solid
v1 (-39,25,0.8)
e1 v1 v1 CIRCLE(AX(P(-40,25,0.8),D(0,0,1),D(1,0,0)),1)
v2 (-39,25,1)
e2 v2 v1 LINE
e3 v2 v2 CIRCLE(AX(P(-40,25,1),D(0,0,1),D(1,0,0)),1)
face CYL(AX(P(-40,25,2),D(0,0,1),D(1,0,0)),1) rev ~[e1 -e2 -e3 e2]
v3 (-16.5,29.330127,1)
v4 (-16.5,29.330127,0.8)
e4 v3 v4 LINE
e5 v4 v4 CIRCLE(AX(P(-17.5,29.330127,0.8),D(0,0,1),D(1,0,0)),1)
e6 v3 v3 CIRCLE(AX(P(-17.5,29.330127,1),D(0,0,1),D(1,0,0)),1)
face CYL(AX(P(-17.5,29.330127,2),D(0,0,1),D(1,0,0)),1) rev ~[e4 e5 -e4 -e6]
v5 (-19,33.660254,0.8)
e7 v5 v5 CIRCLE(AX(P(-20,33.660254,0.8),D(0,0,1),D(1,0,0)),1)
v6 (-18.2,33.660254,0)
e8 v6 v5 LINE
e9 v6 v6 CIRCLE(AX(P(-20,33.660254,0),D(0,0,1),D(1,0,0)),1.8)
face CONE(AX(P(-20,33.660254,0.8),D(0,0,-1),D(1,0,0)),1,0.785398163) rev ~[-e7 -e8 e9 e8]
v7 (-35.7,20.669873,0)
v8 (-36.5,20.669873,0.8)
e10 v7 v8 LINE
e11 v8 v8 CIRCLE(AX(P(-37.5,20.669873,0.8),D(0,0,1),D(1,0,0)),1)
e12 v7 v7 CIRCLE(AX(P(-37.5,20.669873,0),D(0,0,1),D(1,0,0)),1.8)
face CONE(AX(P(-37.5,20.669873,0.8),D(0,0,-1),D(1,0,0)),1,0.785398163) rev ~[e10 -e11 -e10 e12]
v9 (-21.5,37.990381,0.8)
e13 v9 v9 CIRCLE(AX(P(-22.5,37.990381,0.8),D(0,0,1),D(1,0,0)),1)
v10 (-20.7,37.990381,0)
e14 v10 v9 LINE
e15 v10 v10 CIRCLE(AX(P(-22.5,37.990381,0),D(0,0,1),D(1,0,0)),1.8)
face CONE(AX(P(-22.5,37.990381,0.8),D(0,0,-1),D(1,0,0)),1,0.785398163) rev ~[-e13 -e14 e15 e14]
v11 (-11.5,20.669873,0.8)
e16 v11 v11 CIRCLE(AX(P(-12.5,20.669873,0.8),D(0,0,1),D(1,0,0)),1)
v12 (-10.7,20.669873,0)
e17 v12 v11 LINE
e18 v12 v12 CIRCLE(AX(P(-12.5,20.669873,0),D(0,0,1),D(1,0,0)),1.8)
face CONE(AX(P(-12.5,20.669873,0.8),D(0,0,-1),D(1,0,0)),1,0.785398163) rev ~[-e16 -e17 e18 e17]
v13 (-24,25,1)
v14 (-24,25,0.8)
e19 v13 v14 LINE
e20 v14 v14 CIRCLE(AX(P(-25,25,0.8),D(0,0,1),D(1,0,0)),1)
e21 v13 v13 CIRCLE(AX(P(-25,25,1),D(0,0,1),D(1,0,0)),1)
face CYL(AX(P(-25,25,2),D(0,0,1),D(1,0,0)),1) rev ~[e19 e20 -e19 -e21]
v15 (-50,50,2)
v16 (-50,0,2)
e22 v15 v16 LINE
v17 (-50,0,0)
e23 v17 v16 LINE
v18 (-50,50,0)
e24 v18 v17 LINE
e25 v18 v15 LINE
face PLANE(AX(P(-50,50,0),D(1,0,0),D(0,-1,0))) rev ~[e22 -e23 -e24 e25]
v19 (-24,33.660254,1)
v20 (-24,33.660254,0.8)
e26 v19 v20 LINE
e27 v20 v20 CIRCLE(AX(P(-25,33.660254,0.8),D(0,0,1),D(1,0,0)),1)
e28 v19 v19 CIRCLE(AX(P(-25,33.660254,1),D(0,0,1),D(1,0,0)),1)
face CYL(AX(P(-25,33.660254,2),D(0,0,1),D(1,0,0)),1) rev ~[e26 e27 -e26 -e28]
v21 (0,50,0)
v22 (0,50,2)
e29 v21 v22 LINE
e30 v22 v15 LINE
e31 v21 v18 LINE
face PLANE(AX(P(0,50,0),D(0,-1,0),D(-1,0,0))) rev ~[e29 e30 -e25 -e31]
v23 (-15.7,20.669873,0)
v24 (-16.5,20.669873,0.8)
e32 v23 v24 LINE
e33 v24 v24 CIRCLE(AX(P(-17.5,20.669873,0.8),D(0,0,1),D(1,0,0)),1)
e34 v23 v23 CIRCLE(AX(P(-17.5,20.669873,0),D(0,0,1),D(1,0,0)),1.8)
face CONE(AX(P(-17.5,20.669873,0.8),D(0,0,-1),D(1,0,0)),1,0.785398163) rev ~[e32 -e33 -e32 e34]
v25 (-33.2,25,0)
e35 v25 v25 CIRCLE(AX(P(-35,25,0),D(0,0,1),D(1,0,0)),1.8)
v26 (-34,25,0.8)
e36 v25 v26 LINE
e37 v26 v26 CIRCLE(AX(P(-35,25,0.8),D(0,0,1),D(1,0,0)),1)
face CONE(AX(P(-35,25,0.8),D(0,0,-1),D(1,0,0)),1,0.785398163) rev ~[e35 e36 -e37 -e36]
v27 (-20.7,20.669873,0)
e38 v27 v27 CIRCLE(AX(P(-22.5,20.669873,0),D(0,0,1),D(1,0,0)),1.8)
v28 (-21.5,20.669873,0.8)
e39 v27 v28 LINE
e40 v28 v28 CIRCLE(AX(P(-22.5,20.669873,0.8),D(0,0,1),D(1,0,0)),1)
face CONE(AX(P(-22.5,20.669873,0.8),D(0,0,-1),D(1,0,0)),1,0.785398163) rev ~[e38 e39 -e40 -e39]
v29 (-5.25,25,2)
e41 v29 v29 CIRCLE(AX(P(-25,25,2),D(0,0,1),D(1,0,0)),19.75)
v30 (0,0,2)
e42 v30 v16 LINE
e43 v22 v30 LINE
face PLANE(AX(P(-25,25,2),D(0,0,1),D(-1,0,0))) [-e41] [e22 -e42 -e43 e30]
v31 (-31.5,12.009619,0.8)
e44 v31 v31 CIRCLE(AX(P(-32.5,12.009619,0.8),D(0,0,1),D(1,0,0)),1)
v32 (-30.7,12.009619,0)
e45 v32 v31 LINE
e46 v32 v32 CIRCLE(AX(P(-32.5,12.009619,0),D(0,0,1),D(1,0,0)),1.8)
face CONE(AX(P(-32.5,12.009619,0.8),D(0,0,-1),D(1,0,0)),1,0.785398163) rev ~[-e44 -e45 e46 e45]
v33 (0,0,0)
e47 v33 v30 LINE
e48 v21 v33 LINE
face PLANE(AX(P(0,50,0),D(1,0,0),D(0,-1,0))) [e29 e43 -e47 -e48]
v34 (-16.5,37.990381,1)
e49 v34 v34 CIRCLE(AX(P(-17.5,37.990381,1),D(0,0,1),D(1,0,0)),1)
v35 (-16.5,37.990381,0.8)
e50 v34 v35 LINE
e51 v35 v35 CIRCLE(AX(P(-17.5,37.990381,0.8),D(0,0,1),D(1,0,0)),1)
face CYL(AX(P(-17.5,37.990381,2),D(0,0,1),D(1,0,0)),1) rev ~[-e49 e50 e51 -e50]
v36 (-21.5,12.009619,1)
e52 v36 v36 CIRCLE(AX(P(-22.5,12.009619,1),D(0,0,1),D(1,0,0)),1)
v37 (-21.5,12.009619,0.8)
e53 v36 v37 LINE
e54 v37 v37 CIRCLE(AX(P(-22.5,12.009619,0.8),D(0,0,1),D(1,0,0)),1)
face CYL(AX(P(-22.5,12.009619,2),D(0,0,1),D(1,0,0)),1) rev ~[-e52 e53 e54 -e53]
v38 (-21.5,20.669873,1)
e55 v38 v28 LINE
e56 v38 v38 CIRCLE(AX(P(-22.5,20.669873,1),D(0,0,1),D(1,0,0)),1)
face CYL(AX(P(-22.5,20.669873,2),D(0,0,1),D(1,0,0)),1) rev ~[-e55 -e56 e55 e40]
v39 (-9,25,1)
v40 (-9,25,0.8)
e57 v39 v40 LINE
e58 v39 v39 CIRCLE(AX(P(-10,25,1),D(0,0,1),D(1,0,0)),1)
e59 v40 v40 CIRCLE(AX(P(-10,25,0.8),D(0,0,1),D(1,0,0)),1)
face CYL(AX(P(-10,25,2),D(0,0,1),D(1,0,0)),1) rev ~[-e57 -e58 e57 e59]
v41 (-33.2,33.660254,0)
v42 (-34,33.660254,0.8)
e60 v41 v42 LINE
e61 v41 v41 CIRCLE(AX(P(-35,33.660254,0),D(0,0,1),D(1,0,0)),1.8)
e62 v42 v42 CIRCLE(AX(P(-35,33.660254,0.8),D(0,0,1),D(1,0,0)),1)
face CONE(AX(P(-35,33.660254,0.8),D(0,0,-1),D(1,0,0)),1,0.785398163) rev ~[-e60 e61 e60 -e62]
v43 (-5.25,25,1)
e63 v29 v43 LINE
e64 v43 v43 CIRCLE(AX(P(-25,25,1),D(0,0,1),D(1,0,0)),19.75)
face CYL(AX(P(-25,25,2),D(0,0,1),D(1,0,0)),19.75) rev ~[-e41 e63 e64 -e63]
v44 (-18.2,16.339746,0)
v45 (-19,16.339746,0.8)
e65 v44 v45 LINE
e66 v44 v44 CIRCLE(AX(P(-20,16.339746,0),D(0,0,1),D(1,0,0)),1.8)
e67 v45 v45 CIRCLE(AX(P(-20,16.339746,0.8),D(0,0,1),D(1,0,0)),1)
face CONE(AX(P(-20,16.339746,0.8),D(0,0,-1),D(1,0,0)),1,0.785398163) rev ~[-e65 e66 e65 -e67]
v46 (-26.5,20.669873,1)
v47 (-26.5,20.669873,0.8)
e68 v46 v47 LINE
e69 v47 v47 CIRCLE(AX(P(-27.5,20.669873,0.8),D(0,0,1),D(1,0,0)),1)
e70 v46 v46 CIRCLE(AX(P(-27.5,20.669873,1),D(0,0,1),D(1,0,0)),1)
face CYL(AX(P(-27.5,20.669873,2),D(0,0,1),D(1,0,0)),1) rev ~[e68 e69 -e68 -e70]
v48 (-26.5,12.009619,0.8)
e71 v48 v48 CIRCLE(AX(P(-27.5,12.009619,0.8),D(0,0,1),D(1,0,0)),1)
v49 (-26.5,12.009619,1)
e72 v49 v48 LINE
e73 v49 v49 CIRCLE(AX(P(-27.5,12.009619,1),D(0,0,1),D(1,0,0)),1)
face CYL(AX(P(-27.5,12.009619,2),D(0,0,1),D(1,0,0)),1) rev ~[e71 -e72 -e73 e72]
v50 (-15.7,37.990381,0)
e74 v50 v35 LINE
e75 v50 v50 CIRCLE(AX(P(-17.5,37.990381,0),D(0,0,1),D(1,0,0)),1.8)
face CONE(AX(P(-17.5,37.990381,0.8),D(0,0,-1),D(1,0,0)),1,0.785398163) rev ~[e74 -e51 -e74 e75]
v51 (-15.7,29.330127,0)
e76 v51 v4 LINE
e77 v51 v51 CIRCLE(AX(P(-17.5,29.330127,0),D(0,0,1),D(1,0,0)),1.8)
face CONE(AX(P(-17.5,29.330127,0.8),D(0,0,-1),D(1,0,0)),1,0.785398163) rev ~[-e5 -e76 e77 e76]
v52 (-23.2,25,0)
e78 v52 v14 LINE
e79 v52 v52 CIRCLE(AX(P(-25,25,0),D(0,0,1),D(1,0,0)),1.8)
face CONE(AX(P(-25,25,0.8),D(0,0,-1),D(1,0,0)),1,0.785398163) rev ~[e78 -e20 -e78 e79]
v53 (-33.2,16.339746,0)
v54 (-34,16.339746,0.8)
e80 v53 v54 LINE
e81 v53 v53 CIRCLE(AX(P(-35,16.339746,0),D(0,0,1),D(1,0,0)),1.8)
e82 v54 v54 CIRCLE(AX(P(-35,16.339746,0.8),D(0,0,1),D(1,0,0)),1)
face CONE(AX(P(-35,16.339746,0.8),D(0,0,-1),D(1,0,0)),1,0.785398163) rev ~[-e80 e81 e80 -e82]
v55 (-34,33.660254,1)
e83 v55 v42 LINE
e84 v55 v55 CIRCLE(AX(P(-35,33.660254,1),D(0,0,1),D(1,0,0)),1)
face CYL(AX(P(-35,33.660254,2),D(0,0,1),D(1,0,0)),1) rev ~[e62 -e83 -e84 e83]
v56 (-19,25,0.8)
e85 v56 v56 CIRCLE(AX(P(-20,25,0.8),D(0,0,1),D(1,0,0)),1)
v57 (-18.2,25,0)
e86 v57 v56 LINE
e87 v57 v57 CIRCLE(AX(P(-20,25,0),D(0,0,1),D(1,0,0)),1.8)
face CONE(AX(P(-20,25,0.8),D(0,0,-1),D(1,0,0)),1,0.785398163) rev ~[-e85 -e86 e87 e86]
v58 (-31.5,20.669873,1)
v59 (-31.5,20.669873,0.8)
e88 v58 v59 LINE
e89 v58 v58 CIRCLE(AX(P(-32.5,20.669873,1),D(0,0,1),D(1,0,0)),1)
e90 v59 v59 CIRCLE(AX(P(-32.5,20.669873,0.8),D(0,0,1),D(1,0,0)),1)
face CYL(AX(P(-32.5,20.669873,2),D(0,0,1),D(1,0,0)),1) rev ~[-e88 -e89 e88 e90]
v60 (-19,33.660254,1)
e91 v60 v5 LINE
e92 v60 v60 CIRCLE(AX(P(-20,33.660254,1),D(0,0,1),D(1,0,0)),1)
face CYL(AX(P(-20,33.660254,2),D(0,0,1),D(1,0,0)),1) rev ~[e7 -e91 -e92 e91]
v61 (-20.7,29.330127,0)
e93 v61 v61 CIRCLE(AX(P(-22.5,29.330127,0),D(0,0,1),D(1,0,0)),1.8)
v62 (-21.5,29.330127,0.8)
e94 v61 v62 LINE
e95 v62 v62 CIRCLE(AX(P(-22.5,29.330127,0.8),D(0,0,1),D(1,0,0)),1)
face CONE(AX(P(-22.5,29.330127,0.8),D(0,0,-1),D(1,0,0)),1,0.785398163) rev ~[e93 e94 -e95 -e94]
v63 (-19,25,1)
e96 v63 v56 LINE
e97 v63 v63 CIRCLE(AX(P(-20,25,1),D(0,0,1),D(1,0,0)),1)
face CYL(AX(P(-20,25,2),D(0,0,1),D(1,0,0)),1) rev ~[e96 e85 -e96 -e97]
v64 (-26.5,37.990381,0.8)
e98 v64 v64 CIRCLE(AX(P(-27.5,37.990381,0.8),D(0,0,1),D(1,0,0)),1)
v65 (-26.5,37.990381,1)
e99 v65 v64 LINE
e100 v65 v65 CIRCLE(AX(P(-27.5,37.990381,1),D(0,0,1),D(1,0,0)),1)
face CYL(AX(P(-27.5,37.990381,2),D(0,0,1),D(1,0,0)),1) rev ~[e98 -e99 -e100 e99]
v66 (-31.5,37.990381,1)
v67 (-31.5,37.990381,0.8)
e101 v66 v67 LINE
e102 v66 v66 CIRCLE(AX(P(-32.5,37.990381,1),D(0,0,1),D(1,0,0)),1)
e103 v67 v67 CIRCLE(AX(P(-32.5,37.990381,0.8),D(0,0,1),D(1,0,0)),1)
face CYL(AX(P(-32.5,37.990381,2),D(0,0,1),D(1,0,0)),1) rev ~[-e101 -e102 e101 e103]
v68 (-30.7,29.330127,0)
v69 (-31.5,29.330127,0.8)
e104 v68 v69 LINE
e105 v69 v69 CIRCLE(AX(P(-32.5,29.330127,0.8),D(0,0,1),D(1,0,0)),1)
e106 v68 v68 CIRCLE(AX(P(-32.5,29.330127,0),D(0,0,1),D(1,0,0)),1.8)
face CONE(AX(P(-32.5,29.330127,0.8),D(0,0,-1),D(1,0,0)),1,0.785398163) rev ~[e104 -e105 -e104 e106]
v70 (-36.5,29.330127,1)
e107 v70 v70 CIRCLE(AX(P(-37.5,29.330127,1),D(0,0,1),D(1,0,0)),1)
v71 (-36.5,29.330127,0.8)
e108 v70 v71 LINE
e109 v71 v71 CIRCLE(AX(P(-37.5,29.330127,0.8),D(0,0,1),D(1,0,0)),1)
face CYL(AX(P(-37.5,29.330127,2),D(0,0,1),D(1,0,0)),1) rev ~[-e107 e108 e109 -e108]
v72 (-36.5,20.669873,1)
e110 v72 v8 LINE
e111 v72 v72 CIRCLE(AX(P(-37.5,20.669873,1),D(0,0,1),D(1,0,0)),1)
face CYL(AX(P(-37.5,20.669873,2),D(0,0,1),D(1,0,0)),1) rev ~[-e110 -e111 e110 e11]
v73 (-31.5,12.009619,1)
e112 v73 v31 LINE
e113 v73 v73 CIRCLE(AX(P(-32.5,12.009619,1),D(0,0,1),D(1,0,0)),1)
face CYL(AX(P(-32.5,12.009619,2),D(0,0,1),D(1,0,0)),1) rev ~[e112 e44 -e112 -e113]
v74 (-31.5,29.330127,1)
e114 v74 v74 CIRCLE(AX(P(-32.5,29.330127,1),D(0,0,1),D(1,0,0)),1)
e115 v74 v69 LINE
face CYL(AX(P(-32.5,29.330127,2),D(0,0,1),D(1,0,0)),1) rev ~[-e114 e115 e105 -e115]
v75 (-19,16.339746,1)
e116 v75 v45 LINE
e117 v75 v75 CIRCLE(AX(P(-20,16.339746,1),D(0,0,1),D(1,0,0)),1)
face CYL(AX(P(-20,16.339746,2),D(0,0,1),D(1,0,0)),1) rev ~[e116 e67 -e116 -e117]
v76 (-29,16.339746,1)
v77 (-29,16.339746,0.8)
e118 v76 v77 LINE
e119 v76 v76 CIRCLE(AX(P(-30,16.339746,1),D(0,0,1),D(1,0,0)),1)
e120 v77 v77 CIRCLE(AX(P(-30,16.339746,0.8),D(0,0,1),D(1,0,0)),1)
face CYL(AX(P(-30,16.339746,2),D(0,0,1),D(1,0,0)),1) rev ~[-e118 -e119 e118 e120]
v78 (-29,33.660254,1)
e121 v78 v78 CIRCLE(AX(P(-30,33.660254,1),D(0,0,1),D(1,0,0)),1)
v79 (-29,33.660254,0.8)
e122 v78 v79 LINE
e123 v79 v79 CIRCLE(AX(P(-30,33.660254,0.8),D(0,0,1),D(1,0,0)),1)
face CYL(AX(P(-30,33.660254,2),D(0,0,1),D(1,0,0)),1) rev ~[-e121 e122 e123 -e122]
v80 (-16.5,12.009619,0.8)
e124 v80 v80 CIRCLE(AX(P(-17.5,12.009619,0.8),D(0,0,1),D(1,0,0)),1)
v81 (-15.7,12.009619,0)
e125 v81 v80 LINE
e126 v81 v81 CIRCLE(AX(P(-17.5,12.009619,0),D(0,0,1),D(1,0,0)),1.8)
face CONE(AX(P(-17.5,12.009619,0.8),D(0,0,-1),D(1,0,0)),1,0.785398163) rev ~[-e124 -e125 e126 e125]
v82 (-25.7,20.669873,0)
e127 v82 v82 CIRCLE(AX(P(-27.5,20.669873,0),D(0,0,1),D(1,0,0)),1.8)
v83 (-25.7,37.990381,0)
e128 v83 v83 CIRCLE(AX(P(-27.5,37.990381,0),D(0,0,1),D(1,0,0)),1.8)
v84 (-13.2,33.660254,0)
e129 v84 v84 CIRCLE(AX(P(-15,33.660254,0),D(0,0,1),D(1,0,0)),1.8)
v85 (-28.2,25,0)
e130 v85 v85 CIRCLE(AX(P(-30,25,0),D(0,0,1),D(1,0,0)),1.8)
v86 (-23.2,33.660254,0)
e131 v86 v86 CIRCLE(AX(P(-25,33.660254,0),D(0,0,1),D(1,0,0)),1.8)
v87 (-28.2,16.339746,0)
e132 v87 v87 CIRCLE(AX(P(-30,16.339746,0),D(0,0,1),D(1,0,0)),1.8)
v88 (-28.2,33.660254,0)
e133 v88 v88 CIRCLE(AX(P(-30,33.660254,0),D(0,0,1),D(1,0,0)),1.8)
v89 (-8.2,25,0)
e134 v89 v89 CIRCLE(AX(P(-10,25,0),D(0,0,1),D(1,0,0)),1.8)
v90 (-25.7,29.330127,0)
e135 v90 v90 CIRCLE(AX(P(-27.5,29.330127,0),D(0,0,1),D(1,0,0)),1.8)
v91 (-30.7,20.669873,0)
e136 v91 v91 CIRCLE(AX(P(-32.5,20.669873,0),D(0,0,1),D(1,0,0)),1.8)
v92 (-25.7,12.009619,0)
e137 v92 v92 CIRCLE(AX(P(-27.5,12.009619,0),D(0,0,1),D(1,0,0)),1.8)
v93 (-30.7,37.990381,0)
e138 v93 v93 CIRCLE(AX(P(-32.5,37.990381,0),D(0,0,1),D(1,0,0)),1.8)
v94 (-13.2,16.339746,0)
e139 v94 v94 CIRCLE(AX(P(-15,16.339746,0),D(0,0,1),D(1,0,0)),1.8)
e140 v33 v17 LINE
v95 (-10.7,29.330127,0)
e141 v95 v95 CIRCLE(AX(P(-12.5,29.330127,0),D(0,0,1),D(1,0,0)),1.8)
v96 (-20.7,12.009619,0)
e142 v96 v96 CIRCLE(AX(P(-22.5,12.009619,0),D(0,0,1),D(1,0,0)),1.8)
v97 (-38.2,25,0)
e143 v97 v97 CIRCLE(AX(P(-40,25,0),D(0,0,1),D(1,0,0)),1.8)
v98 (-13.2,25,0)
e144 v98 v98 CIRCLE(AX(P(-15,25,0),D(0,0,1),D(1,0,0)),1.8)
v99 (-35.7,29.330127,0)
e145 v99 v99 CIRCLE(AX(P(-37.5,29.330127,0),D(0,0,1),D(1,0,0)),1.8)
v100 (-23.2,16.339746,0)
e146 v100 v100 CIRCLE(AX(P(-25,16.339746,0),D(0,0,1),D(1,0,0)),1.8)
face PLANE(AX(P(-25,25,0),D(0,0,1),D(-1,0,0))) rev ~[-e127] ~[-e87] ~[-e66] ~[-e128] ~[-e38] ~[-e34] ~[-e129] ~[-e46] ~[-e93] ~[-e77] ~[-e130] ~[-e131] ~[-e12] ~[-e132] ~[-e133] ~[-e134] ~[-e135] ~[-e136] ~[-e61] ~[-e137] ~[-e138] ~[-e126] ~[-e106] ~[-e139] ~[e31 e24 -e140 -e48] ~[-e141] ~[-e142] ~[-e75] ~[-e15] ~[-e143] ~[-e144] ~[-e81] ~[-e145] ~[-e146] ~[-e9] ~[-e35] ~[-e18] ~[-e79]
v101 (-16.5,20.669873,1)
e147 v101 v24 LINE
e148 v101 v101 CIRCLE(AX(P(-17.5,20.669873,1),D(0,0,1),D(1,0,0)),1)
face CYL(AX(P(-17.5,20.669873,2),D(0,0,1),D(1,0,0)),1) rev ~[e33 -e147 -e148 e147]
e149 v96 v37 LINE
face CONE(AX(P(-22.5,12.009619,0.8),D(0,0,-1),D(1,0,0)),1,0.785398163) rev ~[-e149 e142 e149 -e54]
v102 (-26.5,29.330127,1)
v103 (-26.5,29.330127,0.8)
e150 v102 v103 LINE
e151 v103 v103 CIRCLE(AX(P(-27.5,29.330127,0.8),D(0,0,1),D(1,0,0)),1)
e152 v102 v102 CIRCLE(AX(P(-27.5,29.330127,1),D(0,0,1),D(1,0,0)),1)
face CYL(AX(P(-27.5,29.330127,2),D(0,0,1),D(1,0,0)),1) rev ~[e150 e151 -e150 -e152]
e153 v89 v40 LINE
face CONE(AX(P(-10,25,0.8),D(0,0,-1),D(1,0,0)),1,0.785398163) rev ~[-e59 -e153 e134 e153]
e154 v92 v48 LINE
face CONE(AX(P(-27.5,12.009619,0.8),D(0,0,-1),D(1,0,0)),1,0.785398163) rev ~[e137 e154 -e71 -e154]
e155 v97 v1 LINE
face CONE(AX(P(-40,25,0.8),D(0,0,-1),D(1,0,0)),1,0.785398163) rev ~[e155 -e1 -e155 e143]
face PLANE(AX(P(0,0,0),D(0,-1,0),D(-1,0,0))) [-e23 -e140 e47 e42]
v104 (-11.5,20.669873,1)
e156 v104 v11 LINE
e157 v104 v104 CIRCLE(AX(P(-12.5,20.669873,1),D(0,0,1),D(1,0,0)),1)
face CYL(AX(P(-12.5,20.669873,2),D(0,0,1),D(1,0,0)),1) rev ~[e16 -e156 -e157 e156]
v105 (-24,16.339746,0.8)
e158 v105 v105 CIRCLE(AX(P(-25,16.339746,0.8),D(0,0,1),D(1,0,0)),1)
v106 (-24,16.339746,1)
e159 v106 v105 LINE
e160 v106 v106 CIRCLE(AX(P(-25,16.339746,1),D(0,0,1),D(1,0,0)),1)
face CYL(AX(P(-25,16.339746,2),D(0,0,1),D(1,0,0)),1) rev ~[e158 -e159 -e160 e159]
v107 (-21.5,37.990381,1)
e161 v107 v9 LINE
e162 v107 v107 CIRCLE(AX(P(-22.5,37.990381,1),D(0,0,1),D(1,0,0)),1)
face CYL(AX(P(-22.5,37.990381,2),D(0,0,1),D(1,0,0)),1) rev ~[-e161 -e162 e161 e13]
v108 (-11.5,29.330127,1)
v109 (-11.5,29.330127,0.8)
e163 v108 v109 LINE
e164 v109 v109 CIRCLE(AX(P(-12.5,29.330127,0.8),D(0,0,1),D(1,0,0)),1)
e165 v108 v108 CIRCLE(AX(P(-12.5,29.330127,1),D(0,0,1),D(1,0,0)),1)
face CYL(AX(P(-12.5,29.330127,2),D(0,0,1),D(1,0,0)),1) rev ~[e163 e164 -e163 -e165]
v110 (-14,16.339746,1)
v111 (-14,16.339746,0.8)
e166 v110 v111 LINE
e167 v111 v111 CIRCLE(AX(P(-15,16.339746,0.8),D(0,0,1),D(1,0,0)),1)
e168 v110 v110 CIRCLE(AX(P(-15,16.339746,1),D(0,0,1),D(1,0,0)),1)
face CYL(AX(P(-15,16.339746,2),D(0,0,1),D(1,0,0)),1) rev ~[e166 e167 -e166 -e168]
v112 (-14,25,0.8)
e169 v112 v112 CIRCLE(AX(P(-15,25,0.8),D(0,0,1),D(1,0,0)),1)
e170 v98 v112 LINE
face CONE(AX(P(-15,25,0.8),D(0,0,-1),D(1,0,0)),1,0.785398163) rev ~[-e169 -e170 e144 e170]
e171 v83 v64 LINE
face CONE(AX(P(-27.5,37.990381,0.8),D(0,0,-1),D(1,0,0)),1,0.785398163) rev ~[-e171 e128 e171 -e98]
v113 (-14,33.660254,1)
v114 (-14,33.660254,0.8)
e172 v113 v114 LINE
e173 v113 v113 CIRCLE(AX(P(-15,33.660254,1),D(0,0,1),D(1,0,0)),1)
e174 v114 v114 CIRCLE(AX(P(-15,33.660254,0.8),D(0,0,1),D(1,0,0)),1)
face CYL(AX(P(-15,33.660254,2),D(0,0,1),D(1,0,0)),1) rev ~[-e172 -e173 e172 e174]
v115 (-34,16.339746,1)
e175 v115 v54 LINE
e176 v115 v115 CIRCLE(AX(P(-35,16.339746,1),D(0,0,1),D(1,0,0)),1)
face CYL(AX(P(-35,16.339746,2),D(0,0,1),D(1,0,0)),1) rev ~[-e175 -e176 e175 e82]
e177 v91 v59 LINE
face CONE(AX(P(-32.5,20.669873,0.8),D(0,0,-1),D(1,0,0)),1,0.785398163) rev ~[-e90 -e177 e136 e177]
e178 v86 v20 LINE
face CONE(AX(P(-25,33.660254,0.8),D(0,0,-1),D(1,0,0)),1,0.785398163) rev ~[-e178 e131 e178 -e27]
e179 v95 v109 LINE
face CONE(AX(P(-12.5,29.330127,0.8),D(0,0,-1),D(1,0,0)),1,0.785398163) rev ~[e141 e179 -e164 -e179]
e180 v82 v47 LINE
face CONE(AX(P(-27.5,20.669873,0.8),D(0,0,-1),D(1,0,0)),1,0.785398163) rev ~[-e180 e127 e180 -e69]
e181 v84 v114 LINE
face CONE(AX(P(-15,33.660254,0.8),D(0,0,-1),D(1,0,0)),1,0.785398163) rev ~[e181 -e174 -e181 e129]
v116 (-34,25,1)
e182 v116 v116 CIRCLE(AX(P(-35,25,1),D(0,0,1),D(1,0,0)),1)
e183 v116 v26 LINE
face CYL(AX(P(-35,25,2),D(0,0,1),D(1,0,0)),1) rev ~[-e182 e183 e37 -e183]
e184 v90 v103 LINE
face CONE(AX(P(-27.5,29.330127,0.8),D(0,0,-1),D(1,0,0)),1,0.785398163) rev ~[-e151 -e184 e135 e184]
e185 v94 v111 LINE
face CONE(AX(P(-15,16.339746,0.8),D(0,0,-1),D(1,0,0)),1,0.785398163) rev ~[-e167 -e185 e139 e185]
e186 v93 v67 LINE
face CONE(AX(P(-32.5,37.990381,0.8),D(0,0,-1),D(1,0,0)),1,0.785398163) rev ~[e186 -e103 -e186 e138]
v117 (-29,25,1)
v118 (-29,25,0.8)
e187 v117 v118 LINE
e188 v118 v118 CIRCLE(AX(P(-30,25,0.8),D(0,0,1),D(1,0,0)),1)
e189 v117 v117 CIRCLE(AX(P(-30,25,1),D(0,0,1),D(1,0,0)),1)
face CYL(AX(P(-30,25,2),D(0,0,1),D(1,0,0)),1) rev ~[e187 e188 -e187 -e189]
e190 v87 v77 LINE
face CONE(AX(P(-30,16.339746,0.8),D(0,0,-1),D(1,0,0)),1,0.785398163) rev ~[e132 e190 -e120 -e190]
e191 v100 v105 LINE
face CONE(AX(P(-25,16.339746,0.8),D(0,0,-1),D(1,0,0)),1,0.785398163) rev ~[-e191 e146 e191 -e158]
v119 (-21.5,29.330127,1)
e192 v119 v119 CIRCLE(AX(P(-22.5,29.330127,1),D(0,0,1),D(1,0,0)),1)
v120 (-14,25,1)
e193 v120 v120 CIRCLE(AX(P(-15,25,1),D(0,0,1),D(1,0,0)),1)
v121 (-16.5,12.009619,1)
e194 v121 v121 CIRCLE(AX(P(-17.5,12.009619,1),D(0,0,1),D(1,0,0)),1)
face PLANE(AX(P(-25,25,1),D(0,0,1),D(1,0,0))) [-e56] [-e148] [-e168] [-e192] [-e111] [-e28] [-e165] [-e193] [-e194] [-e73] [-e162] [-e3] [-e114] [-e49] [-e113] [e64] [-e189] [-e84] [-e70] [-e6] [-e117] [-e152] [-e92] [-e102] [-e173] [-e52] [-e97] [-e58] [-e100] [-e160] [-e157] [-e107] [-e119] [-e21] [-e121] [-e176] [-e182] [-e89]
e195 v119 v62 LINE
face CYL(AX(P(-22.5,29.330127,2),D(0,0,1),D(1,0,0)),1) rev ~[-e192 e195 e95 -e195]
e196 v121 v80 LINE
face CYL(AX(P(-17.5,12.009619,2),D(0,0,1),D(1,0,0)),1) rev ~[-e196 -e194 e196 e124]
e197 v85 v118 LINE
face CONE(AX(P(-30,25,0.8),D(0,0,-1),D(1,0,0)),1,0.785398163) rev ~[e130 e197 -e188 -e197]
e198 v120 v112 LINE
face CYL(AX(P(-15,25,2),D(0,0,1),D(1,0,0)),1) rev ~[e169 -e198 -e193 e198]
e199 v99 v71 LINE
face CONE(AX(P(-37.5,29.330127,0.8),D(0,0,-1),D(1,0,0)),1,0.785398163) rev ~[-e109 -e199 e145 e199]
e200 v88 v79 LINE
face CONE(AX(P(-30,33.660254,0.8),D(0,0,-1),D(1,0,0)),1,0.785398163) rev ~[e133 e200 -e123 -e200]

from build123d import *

# Parameters (mm, degrees)
SKETCH_1_W             = 50
SKETCH_1_H             = 50
EXTRUDE_1_DEPTH        = 2
SKETCH_2_R             = 1
CUT_EXTRUDE_1849_DEPTH = 71.738956735
SKETCH_3_R             = 19.75
CUT_EXTRUDE_2321_DEPTH = 1
CHAMFER_1_SIZE         = 0.8


with BuildPart() as part:
    # Эскиз1 → Бобышка-Вытянуть1 (new body)
    with BuildSketch(Plane(origin=(0, 66.754264805, 0), x_dir=(-1, 0, 0), z_dir=(0, 0, 1))):
        with Locations((25, 41.754264805)):
            Rectangle(SKETCH_1_W, SKETCH_1_H)
    extrude(amount=EXTRUDE_1_DEPTH)

    # Эскиз2 → Cut-Extrude 1849 (cut, through all)
    with BuildSketch(Plane.XY.offset(2)):
        with Locations((-25, 25)):
            Circle(SKETCH_2_R)
        with Locations((-20, 25)):
            Circle(SKETCH_2_R)
        with Locations((-15, 25)):
            Circle(SKETCH_2_R)
        with Locations((-10, 25)):
            Circle(SKETCH_2_R)
        with Locations((-22.5, 20.669872981)):
            Circle(SKETCH_2_R)
        with Locations((-20, 16.339745962)):
            Circle(SKETCH_2_R)
        with Locations((-17.5, 12.009618943)):
            Circle(SKETCH_2_R)
        with Locations((-27.5, 20.669872981)):
            Circle(SKETCH_2_R)
        with Locations((-30, 16.339745962)):
            Circle(SKETCH_2_R)
        with Locations((-32.5, 12.009618943)):
            Circle(SKETCH_2_R)
        with Locations((-30, 25)):
            Circle(SKETCH_2_R)
        with Locations((-35, 25)):
            Circle(SKETCH_2_R)
        with Locations((-40, 25)):
            Circle(SKETCH_2_R)
        with Locations((-27.5, 29.330127019)):
            Circle(SKETCH_2_R)
        with Locations((-30, 33.660254038)):
            Circle(SKETCH_2_R)
        with Locations((-32.5, 37.990381057)):
            Circle(SKETCH_2_R)
        with Locations((-22.5, 29.330127019)):
            Circle(SKETCH_2_R)
        with Locations((-20, 33.660254038)):
            Circle(SKETCH_2_R)
        with Locations((-17.5, 37.990381057)):
            Circle(SKETCH_2_R)
        with Locations((-25, 16.339745962)):
            Circle(SKETCH_2_R)
        with Locations((-27.5, 12.009618943)):
            Circle(SKETCH_2_R)
        with Locations((-22.5, 12.009618943)):
            Circle(SKETCH_2_R)
        with Locations((-32.5, 20.669872981)):
            Circle(SKETCH_2_R)
        with Locations((-37.5, 20.669872981)):
            Circle(SKETCH_2_R)
        with Locations((-35, 16.339745962)):
            Circle(SKETCH_2_R)
        with Locations((-32.5, 29.330127019)):
            Circle(SKETCH_2_R)
        with Locations((-35, 33.660254038)):
            Circle(SKETCH_2_R)
        with Locations((-37.5, 29.330127019)):
            Circle(SKETCH_2_R)
        with Locations((-25, 33.660254038)):
            Circle(SKETCH_2_R)
        with Locations((-22.5, 37.990381057)):
            Circle(SKETCH_2_R)
        with Locations((-27.5, 37.990381057)):
            Circle(SKETCH_2_R)
        with Locations((-17.5, 29.330127019)):
            Circle(SKETCH_2_R)
        with Locations((-12.5, 29.330127019)):
            Circle(SKETCH_2_R)
        with Locations((-15, 33.660254038)):
            Circle(SKETCH_2_R)
        with Locations((-17.5, 20.669872981)):
            Circle(SKETCH_2_R)
        with Locations((-15, 16.339745962)):
            Circle(SKETCH_2_R)
        with Locations((-12.5, 20.669872981)):
            Circle(SKETCH_2_R)
    extrude(amount=-CUT_EXTRUDE_1849_DEPTH, mode=Mode.SUBTRACT)

    # Эскиз3 → Cut-Extrude 2321 (cut)
    with BuildSketch(Plane.XY.offset(2)):
        with Locations((-25, 25)):
            Circle(SKETCH_3_R)
    extrude(amount=-CUT_EXTRUDE_2321_DEPTH, mode=Mode.SUBTRACT)

    # Фаска1
    chamfer_1_edges = [part.edges().sort_by_distance(p)[0] for p in [
        (-33.5, 12.009618943, 0),
        (-31, 25, 0),
        (-36, 25, 0),
        (-41, 25, 0),
        (-23.5, 29.330127019, 0),
        (-33.5, 37.990381057, 0),
        (-31, 33.660254038, 0),
        (-28.5, 29.330127019, 0),
        (-13.5, 20.669872981, 0),
        (-16, 16.339745962, 0),
        (-18.5, 20.669872981, 0),
        (-16, 33.660254038, 0),
        (-26, 25, 0),
        (-36, 16.339745962, 0),
        (-38.5, 20.669872981, 0),
        (-33.5, 20.669872981, 0),
        (-23.5, 12.009618943, 0),
        (-28.5, 12.009618943, 0),
        (-26, 16.339745962, 0),
        (-18.5, 37.990381057, 0),
        (-21, 33.660254038, 0),
        (-13.5, 29.330127019, 0),
        (-18.5, 29.330127019, 0),
        (-28.5, 37.990381057, 0),
        (-23.5, 37.990381057, 0),
        (-33.5, 29.330127019, 0),
        (-36, 33.660254038, 0),
        (-38.5, 29.330127019, 0),
        (-26, 33.660254038, 0),
        (-31, 16.339745962, 0),
        (-28.5, 20.669872981, 0),
        (-18.5, 12.009618943, 0),
        (-21, 16.339745962, 0),
        (-21, 25, 0),
        (-16, 25, 0),
        (-11, 25, 0),
        (-23.5, 20.669872981, 0),
    ]]
    chamfer(chamfer_1_edges, length=CHAMFER_1_SIZE)


solid = part.part
